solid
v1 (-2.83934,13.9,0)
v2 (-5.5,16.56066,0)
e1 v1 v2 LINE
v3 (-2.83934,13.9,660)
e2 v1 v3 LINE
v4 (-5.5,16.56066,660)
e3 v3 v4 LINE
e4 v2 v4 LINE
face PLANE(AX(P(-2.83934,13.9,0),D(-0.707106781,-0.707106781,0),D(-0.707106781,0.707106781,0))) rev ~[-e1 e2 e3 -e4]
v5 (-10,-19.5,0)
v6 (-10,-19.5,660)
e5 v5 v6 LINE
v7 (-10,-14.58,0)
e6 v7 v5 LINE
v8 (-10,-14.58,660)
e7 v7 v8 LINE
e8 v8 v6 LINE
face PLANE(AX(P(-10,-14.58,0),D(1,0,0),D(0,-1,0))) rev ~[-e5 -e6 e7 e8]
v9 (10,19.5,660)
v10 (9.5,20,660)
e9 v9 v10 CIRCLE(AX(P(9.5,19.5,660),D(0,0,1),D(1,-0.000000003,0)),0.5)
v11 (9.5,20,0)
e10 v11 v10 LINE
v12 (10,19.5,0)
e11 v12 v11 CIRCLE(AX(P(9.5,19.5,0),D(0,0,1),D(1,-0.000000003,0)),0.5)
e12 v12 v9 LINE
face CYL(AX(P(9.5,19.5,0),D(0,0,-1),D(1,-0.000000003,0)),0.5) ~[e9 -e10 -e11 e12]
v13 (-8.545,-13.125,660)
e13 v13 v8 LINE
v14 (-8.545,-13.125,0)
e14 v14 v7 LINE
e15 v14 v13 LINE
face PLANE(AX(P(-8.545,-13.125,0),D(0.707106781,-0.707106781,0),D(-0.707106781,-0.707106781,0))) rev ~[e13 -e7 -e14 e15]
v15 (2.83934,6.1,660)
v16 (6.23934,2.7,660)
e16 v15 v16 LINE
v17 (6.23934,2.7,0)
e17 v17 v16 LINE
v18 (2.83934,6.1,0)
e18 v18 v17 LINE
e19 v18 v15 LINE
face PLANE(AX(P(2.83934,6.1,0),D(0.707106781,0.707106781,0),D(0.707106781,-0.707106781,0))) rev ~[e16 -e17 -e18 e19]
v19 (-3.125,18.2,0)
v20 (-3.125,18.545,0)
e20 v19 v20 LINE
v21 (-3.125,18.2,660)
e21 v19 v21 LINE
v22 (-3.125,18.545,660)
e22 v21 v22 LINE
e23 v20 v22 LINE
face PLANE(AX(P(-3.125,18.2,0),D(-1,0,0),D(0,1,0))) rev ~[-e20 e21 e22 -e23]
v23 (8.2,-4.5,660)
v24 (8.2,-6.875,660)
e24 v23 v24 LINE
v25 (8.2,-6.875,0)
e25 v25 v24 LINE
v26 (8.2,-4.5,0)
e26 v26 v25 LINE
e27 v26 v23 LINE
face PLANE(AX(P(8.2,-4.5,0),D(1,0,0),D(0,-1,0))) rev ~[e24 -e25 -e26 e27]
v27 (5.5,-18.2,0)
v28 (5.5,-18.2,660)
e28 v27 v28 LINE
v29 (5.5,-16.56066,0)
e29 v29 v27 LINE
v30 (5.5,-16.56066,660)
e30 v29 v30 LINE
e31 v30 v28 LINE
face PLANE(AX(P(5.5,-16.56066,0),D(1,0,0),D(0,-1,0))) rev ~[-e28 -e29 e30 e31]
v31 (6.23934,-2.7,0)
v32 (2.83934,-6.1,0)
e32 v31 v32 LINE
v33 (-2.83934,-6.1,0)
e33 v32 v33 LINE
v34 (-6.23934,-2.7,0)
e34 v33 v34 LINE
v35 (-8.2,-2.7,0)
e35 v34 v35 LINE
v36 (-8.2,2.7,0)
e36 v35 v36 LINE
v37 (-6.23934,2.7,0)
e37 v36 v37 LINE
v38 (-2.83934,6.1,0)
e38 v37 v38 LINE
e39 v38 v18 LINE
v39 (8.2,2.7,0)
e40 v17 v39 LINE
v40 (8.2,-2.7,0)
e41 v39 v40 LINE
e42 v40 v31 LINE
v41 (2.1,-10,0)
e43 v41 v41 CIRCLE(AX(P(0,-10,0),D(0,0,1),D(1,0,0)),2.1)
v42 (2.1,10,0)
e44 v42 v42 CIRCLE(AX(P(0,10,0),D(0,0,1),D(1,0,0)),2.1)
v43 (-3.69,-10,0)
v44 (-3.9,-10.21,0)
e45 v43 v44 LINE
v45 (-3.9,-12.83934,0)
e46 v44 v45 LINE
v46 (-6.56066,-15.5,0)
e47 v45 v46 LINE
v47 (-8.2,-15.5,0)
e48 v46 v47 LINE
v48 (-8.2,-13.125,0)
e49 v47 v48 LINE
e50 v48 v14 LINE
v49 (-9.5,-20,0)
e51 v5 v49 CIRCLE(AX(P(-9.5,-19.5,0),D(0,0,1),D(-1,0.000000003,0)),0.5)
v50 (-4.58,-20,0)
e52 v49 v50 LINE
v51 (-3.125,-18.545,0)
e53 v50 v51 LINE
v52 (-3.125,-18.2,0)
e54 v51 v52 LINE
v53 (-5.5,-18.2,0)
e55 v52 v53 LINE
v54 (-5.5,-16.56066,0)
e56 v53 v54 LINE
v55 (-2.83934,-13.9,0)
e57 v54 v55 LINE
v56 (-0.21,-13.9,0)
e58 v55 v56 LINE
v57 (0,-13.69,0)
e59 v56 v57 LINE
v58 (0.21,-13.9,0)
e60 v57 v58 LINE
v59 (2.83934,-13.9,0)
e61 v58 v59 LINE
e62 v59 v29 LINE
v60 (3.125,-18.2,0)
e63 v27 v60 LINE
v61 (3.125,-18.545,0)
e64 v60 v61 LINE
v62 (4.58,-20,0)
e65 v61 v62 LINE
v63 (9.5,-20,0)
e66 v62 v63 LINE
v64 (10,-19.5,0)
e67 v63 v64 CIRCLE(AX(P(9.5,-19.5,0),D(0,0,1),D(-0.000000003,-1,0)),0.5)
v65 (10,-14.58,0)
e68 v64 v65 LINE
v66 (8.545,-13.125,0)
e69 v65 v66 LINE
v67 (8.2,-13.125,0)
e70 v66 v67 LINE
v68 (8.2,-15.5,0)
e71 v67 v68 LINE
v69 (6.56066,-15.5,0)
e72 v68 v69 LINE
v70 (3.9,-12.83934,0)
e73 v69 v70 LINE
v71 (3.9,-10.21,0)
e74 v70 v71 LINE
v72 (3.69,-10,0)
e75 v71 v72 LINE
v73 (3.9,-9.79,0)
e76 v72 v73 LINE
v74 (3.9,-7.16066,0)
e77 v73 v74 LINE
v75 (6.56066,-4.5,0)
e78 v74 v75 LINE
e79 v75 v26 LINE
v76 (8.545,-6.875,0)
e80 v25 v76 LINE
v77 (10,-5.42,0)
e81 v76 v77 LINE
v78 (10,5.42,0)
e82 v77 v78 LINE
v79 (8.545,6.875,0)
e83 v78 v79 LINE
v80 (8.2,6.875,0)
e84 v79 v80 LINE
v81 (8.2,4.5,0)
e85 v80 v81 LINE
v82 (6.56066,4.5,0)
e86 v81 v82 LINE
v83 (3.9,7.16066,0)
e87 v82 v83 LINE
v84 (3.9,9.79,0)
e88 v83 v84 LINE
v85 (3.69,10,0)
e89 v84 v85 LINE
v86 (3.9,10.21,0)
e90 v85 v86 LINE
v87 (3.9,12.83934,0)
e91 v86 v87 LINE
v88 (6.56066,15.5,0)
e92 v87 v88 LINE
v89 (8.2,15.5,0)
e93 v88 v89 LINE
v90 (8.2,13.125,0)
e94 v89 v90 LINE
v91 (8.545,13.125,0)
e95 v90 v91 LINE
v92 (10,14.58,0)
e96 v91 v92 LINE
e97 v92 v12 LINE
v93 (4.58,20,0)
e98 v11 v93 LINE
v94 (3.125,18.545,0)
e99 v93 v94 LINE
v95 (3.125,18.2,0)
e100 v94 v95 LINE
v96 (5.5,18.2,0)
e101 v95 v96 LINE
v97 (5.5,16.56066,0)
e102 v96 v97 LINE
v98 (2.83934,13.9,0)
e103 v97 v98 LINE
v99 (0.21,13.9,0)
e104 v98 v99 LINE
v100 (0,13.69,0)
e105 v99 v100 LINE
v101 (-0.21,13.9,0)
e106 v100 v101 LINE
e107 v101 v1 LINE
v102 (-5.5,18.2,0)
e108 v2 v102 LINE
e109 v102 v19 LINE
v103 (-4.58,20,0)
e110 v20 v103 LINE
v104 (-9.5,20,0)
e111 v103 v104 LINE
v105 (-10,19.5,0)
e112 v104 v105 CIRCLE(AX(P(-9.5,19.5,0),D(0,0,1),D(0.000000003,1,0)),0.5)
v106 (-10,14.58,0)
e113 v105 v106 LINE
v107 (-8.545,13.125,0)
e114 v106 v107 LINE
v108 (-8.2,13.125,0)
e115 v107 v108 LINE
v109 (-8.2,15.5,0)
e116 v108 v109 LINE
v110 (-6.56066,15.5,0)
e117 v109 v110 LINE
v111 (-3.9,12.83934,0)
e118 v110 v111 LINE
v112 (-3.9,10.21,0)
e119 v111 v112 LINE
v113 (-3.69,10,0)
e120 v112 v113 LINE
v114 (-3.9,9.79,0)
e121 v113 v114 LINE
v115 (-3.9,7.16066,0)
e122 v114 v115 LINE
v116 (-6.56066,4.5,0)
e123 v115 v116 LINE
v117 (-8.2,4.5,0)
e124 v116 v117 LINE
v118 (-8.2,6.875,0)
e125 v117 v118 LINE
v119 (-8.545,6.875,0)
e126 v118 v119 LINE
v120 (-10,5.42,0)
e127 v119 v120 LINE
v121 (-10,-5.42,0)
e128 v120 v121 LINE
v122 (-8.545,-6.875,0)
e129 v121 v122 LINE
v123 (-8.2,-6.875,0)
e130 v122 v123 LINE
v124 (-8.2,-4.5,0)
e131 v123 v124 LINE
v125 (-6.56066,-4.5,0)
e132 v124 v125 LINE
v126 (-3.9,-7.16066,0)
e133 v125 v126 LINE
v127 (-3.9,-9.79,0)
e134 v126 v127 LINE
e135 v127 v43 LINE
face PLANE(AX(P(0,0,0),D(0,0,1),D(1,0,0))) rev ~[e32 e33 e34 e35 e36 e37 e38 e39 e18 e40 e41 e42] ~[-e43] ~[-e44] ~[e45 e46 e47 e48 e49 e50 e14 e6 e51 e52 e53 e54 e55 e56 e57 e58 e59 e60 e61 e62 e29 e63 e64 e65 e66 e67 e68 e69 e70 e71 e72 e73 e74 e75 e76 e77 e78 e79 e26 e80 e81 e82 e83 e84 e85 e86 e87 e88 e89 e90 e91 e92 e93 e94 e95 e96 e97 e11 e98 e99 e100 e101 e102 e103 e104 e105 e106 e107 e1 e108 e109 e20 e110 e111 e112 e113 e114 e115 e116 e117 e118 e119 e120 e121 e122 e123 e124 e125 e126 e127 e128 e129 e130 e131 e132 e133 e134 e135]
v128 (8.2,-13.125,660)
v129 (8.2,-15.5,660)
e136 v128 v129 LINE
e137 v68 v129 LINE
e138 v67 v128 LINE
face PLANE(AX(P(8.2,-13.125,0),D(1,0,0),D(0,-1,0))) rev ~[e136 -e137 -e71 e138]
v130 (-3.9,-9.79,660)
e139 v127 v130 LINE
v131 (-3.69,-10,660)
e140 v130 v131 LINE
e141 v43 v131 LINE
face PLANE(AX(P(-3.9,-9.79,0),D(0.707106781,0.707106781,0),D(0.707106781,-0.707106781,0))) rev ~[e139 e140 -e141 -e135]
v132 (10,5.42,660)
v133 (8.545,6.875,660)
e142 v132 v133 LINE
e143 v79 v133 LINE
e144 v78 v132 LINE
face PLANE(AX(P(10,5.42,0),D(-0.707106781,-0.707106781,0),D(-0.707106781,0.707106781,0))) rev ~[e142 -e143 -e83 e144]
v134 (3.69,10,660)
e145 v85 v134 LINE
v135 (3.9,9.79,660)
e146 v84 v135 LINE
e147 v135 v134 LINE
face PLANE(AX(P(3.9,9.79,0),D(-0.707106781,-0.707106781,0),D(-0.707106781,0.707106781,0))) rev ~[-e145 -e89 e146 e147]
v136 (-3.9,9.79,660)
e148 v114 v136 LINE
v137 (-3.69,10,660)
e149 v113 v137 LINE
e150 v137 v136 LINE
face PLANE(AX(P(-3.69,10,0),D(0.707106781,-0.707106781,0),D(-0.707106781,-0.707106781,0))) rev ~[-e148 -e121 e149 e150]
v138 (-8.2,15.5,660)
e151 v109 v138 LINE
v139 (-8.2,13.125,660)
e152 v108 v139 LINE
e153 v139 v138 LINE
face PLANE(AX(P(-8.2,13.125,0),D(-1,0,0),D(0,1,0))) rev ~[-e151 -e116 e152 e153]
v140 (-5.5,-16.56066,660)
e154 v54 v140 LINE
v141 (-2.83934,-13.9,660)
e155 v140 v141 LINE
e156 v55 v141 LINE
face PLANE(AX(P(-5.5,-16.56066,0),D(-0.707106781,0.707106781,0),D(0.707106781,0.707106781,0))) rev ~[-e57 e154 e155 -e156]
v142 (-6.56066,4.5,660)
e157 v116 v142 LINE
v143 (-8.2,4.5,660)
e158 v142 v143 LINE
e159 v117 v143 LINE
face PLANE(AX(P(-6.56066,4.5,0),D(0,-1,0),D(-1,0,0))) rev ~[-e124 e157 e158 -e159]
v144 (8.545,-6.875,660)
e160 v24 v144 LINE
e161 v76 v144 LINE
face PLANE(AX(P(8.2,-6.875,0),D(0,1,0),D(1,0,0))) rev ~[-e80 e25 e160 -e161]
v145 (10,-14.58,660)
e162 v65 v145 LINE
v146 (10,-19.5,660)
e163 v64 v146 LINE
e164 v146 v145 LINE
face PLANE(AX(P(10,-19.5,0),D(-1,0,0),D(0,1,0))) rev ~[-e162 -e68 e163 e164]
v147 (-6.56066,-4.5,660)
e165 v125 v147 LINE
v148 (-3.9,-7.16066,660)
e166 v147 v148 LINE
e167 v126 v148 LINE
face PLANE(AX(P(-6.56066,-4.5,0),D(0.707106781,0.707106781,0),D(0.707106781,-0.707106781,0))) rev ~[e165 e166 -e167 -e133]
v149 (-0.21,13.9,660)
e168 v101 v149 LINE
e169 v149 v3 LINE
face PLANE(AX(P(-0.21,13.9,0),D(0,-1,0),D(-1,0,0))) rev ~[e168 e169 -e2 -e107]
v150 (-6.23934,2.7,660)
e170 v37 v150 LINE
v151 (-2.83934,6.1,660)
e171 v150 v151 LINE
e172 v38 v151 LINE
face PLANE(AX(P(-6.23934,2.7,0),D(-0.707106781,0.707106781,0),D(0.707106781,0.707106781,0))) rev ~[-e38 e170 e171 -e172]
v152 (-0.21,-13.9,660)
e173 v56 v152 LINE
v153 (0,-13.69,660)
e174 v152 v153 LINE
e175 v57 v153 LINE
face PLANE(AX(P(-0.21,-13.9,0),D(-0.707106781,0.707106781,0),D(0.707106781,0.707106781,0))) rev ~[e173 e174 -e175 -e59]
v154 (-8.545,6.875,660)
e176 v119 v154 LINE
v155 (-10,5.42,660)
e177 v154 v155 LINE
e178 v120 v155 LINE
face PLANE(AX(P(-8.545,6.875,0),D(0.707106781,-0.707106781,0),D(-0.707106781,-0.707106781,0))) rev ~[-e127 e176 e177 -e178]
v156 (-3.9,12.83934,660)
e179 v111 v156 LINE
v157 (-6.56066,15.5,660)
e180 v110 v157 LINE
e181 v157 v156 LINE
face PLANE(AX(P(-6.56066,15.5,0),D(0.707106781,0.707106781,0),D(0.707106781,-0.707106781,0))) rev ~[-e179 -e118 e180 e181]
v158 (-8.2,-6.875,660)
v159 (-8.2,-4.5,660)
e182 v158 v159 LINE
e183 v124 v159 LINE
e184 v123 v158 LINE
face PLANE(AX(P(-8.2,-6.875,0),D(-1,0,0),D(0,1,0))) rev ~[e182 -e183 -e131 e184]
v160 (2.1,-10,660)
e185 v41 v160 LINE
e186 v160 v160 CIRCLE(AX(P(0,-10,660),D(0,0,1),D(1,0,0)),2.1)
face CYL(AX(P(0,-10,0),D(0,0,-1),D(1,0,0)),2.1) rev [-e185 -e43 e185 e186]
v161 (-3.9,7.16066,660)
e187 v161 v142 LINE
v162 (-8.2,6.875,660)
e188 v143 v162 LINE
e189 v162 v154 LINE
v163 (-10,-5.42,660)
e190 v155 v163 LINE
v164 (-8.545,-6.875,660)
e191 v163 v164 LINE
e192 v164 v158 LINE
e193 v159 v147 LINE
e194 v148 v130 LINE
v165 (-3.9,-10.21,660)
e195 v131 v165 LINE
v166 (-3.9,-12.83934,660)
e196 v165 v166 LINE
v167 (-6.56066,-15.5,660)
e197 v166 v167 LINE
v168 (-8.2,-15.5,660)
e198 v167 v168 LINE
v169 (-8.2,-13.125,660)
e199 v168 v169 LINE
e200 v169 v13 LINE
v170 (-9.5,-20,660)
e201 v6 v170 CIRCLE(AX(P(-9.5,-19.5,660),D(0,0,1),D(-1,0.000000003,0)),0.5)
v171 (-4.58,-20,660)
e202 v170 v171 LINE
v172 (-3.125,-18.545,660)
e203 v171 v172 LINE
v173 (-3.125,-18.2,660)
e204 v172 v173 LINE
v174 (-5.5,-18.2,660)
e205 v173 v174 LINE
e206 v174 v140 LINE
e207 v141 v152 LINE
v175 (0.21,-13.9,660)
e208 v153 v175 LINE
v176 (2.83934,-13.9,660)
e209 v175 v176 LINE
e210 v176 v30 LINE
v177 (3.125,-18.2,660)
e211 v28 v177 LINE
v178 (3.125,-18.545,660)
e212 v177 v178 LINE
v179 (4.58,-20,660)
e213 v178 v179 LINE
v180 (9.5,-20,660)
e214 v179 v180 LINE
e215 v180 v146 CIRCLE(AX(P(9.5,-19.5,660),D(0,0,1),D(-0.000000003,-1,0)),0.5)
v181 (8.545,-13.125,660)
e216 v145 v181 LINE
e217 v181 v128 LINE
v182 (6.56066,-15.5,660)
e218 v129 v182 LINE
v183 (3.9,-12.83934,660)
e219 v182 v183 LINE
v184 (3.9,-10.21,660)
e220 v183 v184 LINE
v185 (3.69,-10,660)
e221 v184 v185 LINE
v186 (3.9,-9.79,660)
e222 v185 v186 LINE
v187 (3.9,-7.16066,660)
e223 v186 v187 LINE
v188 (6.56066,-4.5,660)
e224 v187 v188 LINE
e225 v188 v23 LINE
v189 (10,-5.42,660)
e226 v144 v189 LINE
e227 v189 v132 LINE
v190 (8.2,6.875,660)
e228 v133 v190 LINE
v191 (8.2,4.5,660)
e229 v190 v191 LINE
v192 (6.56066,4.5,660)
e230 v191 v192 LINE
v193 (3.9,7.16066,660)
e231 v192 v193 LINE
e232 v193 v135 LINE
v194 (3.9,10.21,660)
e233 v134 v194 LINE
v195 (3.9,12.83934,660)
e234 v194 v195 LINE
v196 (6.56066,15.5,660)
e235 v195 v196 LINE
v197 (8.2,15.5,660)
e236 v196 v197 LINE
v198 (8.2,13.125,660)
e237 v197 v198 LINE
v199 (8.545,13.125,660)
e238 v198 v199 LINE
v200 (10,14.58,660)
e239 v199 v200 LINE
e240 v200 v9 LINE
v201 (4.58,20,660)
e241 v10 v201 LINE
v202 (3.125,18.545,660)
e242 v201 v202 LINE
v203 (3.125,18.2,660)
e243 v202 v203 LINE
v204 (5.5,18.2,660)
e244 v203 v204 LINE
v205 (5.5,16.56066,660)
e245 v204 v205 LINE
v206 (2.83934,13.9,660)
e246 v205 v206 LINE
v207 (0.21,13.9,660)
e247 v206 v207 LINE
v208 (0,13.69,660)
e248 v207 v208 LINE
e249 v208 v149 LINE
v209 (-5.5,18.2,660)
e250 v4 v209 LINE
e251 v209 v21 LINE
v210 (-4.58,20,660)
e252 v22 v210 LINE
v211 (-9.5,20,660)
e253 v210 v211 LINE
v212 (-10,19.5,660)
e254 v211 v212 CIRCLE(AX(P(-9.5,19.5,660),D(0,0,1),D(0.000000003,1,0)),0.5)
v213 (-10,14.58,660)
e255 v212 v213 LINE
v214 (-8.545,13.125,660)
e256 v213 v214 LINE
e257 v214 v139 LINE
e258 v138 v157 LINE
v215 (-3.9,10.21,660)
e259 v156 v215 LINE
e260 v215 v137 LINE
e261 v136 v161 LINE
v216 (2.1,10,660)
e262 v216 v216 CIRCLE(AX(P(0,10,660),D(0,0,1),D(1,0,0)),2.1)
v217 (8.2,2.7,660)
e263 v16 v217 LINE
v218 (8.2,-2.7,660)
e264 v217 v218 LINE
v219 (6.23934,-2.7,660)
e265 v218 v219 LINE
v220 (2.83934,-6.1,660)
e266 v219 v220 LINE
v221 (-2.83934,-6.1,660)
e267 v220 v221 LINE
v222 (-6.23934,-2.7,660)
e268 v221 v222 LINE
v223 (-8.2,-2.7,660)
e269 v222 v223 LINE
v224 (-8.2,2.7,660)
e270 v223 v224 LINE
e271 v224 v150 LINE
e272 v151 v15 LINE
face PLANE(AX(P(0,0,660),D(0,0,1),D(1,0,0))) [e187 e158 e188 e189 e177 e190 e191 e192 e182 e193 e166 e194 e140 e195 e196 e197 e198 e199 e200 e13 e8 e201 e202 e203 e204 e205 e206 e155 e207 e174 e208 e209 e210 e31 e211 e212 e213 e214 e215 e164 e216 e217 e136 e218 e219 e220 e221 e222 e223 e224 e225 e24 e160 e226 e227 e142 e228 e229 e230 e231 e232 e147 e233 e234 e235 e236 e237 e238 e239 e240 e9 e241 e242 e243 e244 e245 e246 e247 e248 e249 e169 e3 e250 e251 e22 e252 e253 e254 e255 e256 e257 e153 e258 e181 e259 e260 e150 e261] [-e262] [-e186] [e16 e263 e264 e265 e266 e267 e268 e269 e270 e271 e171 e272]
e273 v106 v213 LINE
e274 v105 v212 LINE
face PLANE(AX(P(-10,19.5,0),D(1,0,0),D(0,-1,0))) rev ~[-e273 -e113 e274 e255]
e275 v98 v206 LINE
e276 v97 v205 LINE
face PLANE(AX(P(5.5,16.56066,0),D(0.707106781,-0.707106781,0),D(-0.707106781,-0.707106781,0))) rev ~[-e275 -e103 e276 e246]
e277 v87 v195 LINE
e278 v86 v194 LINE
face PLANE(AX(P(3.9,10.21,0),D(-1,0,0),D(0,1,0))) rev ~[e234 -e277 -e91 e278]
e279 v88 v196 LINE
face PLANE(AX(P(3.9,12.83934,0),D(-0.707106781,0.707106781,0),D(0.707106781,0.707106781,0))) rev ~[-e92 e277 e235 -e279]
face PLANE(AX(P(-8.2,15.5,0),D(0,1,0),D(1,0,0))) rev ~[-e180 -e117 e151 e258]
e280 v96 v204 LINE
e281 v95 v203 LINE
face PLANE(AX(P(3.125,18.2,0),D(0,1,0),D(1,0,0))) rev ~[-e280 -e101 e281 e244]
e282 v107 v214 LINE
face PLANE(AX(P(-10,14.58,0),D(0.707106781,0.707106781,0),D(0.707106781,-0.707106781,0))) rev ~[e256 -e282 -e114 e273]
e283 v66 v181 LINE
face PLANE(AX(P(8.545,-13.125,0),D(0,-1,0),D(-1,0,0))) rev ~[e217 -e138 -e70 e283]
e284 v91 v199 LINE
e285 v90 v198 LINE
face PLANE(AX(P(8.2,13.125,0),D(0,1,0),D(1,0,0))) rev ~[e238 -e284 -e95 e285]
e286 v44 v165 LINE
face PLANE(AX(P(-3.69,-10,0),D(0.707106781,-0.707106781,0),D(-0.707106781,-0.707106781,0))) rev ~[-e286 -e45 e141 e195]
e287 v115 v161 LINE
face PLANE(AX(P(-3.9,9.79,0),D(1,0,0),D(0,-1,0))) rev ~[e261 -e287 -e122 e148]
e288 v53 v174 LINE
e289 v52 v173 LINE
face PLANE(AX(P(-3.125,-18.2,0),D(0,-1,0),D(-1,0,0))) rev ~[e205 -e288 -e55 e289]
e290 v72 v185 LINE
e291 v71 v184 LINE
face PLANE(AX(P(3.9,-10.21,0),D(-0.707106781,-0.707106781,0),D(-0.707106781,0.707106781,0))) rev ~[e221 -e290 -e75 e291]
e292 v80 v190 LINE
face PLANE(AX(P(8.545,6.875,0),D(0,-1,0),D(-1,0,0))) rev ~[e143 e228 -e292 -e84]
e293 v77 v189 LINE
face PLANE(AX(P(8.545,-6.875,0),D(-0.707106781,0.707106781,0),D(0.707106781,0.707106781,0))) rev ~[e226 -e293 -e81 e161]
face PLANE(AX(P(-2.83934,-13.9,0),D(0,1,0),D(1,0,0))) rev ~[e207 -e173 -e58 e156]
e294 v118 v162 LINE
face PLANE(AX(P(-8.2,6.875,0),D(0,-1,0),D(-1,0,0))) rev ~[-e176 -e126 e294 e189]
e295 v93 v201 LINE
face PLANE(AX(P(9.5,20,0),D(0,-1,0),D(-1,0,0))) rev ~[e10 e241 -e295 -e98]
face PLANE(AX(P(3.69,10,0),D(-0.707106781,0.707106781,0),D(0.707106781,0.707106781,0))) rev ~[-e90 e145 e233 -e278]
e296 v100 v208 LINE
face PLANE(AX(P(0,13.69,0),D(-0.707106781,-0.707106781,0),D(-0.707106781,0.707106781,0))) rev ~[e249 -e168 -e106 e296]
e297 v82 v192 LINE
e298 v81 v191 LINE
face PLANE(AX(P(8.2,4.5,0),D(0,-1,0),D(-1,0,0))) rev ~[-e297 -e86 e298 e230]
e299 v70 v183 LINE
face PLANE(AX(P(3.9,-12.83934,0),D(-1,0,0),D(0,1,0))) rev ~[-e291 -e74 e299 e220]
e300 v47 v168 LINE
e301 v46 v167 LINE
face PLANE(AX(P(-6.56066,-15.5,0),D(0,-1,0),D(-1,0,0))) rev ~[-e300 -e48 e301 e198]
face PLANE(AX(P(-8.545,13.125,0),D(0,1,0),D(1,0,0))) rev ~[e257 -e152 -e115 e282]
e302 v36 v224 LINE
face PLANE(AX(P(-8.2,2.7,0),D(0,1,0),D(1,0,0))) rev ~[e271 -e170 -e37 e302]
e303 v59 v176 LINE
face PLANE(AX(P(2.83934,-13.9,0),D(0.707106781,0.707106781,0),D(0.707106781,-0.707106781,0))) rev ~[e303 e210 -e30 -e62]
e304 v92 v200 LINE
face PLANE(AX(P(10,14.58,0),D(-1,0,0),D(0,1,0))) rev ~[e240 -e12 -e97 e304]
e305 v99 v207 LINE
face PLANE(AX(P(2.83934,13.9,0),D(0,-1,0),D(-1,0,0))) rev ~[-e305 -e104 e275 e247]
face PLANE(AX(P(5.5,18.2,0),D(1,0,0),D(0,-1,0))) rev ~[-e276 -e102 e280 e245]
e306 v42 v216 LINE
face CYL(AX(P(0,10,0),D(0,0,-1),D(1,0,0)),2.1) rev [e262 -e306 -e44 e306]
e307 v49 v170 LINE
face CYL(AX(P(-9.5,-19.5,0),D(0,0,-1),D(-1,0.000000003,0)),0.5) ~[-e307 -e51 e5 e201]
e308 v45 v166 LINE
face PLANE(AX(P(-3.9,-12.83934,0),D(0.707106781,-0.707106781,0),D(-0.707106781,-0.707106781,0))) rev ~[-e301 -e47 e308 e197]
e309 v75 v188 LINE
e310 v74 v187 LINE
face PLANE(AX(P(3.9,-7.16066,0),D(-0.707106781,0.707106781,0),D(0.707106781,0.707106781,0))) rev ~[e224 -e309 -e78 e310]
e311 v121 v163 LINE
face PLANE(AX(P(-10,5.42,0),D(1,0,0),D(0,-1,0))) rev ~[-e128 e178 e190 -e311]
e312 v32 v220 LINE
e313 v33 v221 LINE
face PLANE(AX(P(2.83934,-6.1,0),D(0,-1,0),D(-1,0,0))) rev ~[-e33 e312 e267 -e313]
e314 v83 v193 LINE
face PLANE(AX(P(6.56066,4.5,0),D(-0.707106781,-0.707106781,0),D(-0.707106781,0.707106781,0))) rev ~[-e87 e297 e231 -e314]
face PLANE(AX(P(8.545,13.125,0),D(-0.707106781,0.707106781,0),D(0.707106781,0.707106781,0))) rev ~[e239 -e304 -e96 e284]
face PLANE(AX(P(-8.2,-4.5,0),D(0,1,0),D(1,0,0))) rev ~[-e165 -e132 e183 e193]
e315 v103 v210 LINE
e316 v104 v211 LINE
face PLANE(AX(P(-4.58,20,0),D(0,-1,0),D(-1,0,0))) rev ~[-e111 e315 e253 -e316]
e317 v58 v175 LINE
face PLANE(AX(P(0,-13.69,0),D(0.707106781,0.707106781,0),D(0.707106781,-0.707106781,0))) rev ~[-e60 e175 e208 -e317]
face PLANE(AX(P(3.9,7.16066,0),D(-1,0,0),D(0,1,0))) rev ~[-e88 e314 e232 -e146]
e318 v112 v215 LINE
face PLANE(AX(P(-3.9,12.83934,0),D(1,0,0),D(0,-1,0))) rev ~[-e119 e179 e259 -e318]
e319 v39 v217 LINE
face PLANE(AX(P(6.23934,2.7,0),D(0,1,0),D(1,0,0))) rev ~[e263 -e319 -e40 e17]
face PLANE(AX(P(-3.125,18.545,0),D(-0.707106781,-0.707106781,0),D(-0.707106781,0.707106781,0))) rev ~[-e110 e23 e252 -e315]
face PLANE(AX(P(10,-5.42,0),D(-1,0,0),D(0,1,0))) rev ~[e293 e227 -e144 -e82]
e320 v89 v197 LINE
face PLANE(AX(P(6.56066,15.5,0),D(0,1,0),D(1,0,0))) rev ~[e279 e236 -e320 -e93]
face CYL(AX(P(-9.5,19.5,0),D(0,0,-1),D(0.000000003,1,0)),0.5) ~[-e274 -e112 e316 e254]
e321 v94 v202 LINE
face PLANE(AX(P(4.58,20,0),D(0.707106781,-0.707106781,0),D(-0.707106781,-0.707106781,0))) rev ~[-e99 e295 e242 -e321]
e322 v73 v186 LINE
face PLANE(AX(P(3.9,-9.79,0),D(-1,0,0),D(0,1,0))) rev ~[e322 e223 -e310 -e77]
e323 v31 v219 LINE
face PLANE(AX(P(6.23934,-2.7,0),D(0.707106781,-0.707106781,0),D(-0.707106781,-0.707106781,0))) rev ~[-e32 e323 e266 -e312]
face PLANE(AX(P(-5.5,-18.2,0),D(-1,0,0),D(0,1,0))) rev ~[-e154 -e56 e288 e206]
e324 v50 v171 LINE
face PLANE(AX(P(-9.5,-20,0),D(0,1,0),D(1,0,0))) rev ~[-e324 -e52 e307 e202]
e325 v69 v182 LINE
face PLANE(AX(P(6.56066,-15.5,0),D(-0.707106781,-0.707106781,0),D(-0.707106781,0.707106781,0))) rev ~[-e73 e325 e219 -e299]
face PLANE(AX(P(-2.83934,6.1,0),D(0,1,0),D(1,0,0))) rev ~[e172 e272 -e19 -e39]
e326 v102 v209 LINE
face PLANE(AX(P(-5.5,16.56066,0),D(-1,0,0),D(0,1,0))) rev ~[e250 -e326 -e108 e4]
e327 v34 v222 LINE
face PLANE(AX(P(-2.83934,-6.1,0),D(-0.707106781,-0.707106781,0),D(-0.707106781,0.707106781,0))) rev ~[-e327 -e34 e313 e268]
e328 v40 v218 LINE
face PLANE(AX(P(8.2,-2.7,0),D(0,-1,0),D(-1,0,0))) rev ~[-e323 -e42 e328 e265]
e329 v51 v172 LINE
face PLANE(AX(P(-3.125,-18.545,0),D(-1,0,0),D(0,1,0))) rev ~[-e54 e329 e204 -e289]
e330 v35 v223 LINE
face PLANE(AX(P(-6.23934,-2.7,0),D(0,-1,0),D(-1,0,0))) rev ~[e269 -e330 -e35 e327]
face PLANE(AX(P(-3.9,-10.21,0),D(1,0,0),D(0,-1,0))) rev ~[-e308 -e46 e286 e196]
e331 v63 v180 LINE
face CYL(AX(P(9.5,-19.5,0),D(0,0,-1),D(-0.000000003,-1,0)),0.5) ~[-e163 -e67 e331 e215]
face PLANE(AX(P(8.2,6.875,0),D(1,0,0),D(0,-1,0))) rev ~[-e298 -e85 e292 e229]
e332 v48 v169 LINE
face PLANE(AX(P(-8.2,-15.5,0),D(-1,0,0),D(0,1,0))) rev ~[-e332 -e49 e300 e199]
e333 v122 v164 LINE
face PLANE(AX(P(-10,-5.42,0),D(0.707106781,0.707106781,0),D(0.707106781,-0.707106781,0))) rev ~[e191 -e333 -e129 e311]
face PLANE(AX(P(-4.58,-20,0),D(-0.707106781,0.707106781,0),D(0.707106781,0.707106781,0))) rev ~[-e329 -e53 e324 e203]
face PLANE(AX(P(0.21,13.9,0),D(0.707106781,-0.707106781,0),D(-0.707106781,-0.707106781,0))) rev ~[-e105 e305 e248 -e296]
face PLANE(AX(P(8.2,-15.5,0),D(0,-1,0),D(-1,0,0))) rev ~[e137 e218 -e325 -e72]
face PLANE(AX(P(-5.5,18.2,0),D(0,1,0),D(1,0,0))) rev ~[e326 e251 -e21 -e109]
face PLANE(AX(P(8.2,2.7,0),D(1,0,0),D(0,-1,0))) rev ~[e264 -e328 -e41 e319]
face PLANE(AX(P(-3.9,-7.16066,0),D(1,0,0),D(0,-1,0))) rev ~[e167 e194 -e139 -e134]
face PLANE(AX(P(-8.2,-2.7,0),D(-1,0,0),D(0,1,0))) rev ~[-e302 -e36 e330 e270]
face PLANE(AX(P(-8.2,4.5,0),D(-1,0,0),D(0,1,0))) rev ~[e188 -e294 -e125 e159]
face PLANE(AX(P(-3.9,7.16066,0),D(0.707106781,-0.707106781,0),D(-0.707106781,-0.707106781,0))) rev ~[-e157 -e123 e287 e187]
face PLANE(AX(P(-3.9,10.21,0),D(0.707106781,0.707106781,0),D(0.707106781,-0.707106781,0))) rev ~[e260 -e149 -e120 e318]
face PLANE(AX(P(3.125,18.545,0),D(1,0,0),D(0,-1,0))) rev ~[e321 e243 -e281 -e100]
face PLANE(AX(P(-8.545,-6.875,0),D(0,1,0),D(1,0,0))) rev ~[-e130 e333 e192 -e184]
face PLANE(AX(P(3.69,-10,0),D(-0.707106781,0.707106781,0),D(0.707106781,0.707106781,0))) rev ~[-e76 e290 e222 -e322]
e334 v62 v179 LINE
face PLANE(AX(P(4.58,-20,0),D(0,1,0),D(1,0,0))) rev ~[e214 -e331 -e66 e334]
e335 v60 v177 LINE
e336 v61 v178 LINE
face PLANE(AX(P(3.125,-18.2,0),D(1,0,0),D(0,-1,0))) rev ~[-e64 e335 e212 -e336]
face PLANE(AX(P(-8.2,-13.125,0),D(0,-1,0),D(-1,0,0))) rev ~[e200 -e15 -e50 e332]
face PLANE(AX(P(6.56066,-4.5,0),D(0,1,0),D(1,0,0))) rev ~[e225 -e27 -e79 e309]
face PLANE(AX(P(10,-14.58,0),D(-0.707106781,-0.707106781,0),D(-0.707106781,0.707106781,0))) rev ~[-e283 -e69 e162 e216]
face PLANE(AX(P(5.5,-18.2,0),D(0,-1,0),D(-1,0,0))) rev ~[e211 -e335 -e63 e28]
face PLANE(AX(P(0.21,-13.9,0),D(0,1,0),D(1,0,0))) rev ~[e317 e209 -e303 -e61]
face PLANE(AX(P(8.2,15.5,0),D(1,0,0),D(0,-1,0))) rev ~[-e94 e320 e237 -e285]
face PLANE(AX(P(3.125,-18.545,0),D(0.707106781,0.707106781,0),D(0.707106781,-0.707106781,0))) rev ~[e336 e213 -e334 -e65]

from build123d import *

# Parameters (mm, degrees)
SKETCH1_R           = 2.1
BOSS_EXTRUDE1_DEPTH = 660


with BuildPart() as part:
    # Sketch1 → Boss-Extrude1 (new body)
    with BuildSketch(Plane.XY):
        with BuildLine():
            Line((4.58, -20), (9.5, -20))
            ThreePointArc((9.5, -20), (9.853553391, -19.853553391), (10, -19.5))
            Line((10, -19.5), (10, -14.58))
            Line((10, -14.58), (8.545, -13.125))
            Line((8.545, -13.125), (8.2, -13.125))
            Line((8.2, -13.125), (8.2, -15.5))
            Line((8.2, -15.5), (6.560660172, -15.5))
            Line((6.560660172, -15.5), (3.9, -12.839339828))
            Line((3.9, -12.839339828), (3.9, -10.21))
            Line((3.9, -10.21), (3.69, -10))
            Line((3.69, -10), (3.9, -9.79))
            Line((3.9, -9.79), (3.9, -7.160660172))
            Line((3.9, -7.160660172), (6.560660172, -4.5))
            Line((6.560660172, -4.5), (8.2, -4.5))
            Line((8.2, -4.5), (8.2, -6.875))
            Line((8.2, -6.875), (8.545, -6.875))
            Line((8.545, -6.875), (10, -5.42))
            Line((10, -5.42), (10, 5.42))
            Line((10, 5.42), (8.545, 6.875))
            Line((8.545, 6.875), (8.2, 6.875))
            Line((8.2, 6.875), (8.2, 4.5))
            Line((8.2, 4.5), (6.560660172, 4.5))
            Line((6.560660172, 4.5), (3.9, 7.160660172))
            Line((3.9, 7.160660172), (3.9, 9.79))
            Line((3.9, 9.79), (3.69, 10))
            Line((3.69, 10), (3.9, 10.21))
            Line((3.9, 10.21), (3.9, 12.839339828))
            Line((3.9, 12.839339828), (6.560660172, 15.5))
            Line((6.560660172, 15.5), (8.2, 15.5))
            Line((8.2, 15.5), (8.2, 13.125))
            Line((8.2, 13.125), (8.545, 13.125))
            Line((8.545, 13.125), (10, 14.58))
            Line((10, 14.58), (10, 19.5))
            ThreePointArc((10, 19.5), (9.853553391, 19.853553391), (9.5, 20))
            Line((9.5, 20), (4.58, 20))
            Line((4.58, 20), (3.125, 18.545))
            Line((3.125, 18.545), (3.125, 18.2))
            Line((3.125, 18.2), (5.5, 18.2))
            Line((5.5, 18.2), (5.5, 16.560660172))
            Line((5.5, 16.560660172), (2.839339828, 13.9))
            Line((2.839339828, 13.9), (0.21, 13.9))
            Line((0.21, 13.9), (0, 13.69))
            Line((0, 13.69), (-0.21, 13.9))
            Line((-0.21, 13.9), (-2.839339828, 13.9))
            Line((-2.839339828, 13.9), (-5.5, 16.560660172))
            Line((-5.5, 16.560660172), (-5.5, 18.2))
            Line((-5.5, 18.2), (-3.125, 18.2))
            Line((-3.125, 18.2), (-3.125, 18.545))
            Line((-3.125, 18.545), (-4.58, 20))
            Line((-4.58, 20), (-9.5, 20))
            ThreePointArc((-9.5, 20), (-9.853553391, 19.853553391), (-10, 19.5))
            Line((-10, 19.5), (-10, 14.58))
            Line((-10, 14.58), (-8.545, 13.125))
            Line((-8.545, 13.125), (-8.2, 13.125))
            Line((-8.2, 13.125), (-8.2, 15.5))
            Line((-8.2, 15.5), (-6.560660172, 15.5))
            Line((-6.560660172, 15.5), (-3.9, 12.839339828))
            Line((-3.9, 12.839339828), (-3.9, 10.21))
            Line((-3.9, 10.21), (-3.69, 10))
            Line((-3.69, 10), (-3.9, 9.79))
            Line((-3.9, 9.79), (-3.9, 7.160660172))
            Line((-3.9, 7.160660172), (-6.560660172, 4.5))
            Line((-6.560660172, 4.5), (-8.2, 4.5))
            Line((-8.2, 4.5), (-8.2, 6.875))
            Line((-8.2, 6.875), (-8.545, 6.875))
            Line((-8.545, 6.875), (-10, 5.42))
            Line((-10, 5.42), (-10, -5.42))
            Line((-10, -5.42), (-8.545, -6.875))
            Line((-8.545, -6.875), (-8.2, -6.875))
            Line((-8.2, -6.875), (-8.2, -4.5))
            Line((-8.2, -4.5), (-6.560660172, -4.5))
            Line((-6.560660172, -4.5), (-3.9, -7.160660172))
            Line((-3.9, -7.160660172), (-3.9, -9.79))
            Line((-3.9, -9.79), (-3.69, -10))
            Line((-3.69, -10), (-3.9, -10.21))
            Line((-3.9, -10.21), (-3.9, -12.839339828))
            Line((-3.9, -12.839339828), (-6.560660172, -15.5))
            Line((-6.560660172, -15.5), (-8.2, -15.5))
            Line((-8.2, -15.5), (-8.2, -13.125))
            Line((-8.2, -13.125), (-8.545, -13.125))
            Line((-8.545, -13.125), (-10, -14.58))
            Line((-10, -14.58), (-10, -19.5))
            ThreePointArc((-10, -19.5), (-9.853553391, -19.853553391), (-9.5, -20))
            Line((-9.5, -20), (-4.58, -20))
            Line((-4.58, -20), (-3.125, -18.545))
            Line((-3.125, -18.545), (-3.125, -18.2))
            Line((-3.125, -18.2), (-5.5, -18.2))
            Line((-5.5, -18.2), (-5.5, -16.560660172))
            Line((-5.5, -16.560660172), (-2.839339828, -13.9))
            Line((-2.839339828, -13.9), (-0.21, -13.9))
            Line((-0.21, -13.9), (0, -13.69))
            Line((0, -13.69), (0.21, -13.9))
            Line((0.21, -13.9), (2.839339828, -13.9))
            Line((2.839339828, -13.9), (5.5, -16.560660172))
            Line((5.5, -16.560660172), (5.5, -18.2))
            Line((5.5, -18.2), (3.125, -18.2))
            Line((3.125, -18.2), (3.125, -18.545))
            Line((3.125, -18.545), (4.58, -20))
        make_face()
        with Locations((0, -10)):
            Circle(SKETCH1_R, mode=Mode.SUBTRACT)
        Polygon((-6.239339828, -2.7), (-8.2, -2.7), (-8.2, 2.7), (-6.239339828, 2.7), (-2.839339828, 6.1), (2.839339828, 6.1), (6.239339828, 2.7), (8.2, 2.7), (8.2, -2.7), (6.239339828, -2.7), (2.839339828, -6.1), (-2.839339828, -6.1), align=None, mode=Mode.SUBTRACT)
        with Locations((0, 10)):
            Circle(SKETCH1_R, mode=Mode.SUBTRACT)
    extrude(amount=BOSS_EXTRUDE1_DEPTH)


solid = part.part
